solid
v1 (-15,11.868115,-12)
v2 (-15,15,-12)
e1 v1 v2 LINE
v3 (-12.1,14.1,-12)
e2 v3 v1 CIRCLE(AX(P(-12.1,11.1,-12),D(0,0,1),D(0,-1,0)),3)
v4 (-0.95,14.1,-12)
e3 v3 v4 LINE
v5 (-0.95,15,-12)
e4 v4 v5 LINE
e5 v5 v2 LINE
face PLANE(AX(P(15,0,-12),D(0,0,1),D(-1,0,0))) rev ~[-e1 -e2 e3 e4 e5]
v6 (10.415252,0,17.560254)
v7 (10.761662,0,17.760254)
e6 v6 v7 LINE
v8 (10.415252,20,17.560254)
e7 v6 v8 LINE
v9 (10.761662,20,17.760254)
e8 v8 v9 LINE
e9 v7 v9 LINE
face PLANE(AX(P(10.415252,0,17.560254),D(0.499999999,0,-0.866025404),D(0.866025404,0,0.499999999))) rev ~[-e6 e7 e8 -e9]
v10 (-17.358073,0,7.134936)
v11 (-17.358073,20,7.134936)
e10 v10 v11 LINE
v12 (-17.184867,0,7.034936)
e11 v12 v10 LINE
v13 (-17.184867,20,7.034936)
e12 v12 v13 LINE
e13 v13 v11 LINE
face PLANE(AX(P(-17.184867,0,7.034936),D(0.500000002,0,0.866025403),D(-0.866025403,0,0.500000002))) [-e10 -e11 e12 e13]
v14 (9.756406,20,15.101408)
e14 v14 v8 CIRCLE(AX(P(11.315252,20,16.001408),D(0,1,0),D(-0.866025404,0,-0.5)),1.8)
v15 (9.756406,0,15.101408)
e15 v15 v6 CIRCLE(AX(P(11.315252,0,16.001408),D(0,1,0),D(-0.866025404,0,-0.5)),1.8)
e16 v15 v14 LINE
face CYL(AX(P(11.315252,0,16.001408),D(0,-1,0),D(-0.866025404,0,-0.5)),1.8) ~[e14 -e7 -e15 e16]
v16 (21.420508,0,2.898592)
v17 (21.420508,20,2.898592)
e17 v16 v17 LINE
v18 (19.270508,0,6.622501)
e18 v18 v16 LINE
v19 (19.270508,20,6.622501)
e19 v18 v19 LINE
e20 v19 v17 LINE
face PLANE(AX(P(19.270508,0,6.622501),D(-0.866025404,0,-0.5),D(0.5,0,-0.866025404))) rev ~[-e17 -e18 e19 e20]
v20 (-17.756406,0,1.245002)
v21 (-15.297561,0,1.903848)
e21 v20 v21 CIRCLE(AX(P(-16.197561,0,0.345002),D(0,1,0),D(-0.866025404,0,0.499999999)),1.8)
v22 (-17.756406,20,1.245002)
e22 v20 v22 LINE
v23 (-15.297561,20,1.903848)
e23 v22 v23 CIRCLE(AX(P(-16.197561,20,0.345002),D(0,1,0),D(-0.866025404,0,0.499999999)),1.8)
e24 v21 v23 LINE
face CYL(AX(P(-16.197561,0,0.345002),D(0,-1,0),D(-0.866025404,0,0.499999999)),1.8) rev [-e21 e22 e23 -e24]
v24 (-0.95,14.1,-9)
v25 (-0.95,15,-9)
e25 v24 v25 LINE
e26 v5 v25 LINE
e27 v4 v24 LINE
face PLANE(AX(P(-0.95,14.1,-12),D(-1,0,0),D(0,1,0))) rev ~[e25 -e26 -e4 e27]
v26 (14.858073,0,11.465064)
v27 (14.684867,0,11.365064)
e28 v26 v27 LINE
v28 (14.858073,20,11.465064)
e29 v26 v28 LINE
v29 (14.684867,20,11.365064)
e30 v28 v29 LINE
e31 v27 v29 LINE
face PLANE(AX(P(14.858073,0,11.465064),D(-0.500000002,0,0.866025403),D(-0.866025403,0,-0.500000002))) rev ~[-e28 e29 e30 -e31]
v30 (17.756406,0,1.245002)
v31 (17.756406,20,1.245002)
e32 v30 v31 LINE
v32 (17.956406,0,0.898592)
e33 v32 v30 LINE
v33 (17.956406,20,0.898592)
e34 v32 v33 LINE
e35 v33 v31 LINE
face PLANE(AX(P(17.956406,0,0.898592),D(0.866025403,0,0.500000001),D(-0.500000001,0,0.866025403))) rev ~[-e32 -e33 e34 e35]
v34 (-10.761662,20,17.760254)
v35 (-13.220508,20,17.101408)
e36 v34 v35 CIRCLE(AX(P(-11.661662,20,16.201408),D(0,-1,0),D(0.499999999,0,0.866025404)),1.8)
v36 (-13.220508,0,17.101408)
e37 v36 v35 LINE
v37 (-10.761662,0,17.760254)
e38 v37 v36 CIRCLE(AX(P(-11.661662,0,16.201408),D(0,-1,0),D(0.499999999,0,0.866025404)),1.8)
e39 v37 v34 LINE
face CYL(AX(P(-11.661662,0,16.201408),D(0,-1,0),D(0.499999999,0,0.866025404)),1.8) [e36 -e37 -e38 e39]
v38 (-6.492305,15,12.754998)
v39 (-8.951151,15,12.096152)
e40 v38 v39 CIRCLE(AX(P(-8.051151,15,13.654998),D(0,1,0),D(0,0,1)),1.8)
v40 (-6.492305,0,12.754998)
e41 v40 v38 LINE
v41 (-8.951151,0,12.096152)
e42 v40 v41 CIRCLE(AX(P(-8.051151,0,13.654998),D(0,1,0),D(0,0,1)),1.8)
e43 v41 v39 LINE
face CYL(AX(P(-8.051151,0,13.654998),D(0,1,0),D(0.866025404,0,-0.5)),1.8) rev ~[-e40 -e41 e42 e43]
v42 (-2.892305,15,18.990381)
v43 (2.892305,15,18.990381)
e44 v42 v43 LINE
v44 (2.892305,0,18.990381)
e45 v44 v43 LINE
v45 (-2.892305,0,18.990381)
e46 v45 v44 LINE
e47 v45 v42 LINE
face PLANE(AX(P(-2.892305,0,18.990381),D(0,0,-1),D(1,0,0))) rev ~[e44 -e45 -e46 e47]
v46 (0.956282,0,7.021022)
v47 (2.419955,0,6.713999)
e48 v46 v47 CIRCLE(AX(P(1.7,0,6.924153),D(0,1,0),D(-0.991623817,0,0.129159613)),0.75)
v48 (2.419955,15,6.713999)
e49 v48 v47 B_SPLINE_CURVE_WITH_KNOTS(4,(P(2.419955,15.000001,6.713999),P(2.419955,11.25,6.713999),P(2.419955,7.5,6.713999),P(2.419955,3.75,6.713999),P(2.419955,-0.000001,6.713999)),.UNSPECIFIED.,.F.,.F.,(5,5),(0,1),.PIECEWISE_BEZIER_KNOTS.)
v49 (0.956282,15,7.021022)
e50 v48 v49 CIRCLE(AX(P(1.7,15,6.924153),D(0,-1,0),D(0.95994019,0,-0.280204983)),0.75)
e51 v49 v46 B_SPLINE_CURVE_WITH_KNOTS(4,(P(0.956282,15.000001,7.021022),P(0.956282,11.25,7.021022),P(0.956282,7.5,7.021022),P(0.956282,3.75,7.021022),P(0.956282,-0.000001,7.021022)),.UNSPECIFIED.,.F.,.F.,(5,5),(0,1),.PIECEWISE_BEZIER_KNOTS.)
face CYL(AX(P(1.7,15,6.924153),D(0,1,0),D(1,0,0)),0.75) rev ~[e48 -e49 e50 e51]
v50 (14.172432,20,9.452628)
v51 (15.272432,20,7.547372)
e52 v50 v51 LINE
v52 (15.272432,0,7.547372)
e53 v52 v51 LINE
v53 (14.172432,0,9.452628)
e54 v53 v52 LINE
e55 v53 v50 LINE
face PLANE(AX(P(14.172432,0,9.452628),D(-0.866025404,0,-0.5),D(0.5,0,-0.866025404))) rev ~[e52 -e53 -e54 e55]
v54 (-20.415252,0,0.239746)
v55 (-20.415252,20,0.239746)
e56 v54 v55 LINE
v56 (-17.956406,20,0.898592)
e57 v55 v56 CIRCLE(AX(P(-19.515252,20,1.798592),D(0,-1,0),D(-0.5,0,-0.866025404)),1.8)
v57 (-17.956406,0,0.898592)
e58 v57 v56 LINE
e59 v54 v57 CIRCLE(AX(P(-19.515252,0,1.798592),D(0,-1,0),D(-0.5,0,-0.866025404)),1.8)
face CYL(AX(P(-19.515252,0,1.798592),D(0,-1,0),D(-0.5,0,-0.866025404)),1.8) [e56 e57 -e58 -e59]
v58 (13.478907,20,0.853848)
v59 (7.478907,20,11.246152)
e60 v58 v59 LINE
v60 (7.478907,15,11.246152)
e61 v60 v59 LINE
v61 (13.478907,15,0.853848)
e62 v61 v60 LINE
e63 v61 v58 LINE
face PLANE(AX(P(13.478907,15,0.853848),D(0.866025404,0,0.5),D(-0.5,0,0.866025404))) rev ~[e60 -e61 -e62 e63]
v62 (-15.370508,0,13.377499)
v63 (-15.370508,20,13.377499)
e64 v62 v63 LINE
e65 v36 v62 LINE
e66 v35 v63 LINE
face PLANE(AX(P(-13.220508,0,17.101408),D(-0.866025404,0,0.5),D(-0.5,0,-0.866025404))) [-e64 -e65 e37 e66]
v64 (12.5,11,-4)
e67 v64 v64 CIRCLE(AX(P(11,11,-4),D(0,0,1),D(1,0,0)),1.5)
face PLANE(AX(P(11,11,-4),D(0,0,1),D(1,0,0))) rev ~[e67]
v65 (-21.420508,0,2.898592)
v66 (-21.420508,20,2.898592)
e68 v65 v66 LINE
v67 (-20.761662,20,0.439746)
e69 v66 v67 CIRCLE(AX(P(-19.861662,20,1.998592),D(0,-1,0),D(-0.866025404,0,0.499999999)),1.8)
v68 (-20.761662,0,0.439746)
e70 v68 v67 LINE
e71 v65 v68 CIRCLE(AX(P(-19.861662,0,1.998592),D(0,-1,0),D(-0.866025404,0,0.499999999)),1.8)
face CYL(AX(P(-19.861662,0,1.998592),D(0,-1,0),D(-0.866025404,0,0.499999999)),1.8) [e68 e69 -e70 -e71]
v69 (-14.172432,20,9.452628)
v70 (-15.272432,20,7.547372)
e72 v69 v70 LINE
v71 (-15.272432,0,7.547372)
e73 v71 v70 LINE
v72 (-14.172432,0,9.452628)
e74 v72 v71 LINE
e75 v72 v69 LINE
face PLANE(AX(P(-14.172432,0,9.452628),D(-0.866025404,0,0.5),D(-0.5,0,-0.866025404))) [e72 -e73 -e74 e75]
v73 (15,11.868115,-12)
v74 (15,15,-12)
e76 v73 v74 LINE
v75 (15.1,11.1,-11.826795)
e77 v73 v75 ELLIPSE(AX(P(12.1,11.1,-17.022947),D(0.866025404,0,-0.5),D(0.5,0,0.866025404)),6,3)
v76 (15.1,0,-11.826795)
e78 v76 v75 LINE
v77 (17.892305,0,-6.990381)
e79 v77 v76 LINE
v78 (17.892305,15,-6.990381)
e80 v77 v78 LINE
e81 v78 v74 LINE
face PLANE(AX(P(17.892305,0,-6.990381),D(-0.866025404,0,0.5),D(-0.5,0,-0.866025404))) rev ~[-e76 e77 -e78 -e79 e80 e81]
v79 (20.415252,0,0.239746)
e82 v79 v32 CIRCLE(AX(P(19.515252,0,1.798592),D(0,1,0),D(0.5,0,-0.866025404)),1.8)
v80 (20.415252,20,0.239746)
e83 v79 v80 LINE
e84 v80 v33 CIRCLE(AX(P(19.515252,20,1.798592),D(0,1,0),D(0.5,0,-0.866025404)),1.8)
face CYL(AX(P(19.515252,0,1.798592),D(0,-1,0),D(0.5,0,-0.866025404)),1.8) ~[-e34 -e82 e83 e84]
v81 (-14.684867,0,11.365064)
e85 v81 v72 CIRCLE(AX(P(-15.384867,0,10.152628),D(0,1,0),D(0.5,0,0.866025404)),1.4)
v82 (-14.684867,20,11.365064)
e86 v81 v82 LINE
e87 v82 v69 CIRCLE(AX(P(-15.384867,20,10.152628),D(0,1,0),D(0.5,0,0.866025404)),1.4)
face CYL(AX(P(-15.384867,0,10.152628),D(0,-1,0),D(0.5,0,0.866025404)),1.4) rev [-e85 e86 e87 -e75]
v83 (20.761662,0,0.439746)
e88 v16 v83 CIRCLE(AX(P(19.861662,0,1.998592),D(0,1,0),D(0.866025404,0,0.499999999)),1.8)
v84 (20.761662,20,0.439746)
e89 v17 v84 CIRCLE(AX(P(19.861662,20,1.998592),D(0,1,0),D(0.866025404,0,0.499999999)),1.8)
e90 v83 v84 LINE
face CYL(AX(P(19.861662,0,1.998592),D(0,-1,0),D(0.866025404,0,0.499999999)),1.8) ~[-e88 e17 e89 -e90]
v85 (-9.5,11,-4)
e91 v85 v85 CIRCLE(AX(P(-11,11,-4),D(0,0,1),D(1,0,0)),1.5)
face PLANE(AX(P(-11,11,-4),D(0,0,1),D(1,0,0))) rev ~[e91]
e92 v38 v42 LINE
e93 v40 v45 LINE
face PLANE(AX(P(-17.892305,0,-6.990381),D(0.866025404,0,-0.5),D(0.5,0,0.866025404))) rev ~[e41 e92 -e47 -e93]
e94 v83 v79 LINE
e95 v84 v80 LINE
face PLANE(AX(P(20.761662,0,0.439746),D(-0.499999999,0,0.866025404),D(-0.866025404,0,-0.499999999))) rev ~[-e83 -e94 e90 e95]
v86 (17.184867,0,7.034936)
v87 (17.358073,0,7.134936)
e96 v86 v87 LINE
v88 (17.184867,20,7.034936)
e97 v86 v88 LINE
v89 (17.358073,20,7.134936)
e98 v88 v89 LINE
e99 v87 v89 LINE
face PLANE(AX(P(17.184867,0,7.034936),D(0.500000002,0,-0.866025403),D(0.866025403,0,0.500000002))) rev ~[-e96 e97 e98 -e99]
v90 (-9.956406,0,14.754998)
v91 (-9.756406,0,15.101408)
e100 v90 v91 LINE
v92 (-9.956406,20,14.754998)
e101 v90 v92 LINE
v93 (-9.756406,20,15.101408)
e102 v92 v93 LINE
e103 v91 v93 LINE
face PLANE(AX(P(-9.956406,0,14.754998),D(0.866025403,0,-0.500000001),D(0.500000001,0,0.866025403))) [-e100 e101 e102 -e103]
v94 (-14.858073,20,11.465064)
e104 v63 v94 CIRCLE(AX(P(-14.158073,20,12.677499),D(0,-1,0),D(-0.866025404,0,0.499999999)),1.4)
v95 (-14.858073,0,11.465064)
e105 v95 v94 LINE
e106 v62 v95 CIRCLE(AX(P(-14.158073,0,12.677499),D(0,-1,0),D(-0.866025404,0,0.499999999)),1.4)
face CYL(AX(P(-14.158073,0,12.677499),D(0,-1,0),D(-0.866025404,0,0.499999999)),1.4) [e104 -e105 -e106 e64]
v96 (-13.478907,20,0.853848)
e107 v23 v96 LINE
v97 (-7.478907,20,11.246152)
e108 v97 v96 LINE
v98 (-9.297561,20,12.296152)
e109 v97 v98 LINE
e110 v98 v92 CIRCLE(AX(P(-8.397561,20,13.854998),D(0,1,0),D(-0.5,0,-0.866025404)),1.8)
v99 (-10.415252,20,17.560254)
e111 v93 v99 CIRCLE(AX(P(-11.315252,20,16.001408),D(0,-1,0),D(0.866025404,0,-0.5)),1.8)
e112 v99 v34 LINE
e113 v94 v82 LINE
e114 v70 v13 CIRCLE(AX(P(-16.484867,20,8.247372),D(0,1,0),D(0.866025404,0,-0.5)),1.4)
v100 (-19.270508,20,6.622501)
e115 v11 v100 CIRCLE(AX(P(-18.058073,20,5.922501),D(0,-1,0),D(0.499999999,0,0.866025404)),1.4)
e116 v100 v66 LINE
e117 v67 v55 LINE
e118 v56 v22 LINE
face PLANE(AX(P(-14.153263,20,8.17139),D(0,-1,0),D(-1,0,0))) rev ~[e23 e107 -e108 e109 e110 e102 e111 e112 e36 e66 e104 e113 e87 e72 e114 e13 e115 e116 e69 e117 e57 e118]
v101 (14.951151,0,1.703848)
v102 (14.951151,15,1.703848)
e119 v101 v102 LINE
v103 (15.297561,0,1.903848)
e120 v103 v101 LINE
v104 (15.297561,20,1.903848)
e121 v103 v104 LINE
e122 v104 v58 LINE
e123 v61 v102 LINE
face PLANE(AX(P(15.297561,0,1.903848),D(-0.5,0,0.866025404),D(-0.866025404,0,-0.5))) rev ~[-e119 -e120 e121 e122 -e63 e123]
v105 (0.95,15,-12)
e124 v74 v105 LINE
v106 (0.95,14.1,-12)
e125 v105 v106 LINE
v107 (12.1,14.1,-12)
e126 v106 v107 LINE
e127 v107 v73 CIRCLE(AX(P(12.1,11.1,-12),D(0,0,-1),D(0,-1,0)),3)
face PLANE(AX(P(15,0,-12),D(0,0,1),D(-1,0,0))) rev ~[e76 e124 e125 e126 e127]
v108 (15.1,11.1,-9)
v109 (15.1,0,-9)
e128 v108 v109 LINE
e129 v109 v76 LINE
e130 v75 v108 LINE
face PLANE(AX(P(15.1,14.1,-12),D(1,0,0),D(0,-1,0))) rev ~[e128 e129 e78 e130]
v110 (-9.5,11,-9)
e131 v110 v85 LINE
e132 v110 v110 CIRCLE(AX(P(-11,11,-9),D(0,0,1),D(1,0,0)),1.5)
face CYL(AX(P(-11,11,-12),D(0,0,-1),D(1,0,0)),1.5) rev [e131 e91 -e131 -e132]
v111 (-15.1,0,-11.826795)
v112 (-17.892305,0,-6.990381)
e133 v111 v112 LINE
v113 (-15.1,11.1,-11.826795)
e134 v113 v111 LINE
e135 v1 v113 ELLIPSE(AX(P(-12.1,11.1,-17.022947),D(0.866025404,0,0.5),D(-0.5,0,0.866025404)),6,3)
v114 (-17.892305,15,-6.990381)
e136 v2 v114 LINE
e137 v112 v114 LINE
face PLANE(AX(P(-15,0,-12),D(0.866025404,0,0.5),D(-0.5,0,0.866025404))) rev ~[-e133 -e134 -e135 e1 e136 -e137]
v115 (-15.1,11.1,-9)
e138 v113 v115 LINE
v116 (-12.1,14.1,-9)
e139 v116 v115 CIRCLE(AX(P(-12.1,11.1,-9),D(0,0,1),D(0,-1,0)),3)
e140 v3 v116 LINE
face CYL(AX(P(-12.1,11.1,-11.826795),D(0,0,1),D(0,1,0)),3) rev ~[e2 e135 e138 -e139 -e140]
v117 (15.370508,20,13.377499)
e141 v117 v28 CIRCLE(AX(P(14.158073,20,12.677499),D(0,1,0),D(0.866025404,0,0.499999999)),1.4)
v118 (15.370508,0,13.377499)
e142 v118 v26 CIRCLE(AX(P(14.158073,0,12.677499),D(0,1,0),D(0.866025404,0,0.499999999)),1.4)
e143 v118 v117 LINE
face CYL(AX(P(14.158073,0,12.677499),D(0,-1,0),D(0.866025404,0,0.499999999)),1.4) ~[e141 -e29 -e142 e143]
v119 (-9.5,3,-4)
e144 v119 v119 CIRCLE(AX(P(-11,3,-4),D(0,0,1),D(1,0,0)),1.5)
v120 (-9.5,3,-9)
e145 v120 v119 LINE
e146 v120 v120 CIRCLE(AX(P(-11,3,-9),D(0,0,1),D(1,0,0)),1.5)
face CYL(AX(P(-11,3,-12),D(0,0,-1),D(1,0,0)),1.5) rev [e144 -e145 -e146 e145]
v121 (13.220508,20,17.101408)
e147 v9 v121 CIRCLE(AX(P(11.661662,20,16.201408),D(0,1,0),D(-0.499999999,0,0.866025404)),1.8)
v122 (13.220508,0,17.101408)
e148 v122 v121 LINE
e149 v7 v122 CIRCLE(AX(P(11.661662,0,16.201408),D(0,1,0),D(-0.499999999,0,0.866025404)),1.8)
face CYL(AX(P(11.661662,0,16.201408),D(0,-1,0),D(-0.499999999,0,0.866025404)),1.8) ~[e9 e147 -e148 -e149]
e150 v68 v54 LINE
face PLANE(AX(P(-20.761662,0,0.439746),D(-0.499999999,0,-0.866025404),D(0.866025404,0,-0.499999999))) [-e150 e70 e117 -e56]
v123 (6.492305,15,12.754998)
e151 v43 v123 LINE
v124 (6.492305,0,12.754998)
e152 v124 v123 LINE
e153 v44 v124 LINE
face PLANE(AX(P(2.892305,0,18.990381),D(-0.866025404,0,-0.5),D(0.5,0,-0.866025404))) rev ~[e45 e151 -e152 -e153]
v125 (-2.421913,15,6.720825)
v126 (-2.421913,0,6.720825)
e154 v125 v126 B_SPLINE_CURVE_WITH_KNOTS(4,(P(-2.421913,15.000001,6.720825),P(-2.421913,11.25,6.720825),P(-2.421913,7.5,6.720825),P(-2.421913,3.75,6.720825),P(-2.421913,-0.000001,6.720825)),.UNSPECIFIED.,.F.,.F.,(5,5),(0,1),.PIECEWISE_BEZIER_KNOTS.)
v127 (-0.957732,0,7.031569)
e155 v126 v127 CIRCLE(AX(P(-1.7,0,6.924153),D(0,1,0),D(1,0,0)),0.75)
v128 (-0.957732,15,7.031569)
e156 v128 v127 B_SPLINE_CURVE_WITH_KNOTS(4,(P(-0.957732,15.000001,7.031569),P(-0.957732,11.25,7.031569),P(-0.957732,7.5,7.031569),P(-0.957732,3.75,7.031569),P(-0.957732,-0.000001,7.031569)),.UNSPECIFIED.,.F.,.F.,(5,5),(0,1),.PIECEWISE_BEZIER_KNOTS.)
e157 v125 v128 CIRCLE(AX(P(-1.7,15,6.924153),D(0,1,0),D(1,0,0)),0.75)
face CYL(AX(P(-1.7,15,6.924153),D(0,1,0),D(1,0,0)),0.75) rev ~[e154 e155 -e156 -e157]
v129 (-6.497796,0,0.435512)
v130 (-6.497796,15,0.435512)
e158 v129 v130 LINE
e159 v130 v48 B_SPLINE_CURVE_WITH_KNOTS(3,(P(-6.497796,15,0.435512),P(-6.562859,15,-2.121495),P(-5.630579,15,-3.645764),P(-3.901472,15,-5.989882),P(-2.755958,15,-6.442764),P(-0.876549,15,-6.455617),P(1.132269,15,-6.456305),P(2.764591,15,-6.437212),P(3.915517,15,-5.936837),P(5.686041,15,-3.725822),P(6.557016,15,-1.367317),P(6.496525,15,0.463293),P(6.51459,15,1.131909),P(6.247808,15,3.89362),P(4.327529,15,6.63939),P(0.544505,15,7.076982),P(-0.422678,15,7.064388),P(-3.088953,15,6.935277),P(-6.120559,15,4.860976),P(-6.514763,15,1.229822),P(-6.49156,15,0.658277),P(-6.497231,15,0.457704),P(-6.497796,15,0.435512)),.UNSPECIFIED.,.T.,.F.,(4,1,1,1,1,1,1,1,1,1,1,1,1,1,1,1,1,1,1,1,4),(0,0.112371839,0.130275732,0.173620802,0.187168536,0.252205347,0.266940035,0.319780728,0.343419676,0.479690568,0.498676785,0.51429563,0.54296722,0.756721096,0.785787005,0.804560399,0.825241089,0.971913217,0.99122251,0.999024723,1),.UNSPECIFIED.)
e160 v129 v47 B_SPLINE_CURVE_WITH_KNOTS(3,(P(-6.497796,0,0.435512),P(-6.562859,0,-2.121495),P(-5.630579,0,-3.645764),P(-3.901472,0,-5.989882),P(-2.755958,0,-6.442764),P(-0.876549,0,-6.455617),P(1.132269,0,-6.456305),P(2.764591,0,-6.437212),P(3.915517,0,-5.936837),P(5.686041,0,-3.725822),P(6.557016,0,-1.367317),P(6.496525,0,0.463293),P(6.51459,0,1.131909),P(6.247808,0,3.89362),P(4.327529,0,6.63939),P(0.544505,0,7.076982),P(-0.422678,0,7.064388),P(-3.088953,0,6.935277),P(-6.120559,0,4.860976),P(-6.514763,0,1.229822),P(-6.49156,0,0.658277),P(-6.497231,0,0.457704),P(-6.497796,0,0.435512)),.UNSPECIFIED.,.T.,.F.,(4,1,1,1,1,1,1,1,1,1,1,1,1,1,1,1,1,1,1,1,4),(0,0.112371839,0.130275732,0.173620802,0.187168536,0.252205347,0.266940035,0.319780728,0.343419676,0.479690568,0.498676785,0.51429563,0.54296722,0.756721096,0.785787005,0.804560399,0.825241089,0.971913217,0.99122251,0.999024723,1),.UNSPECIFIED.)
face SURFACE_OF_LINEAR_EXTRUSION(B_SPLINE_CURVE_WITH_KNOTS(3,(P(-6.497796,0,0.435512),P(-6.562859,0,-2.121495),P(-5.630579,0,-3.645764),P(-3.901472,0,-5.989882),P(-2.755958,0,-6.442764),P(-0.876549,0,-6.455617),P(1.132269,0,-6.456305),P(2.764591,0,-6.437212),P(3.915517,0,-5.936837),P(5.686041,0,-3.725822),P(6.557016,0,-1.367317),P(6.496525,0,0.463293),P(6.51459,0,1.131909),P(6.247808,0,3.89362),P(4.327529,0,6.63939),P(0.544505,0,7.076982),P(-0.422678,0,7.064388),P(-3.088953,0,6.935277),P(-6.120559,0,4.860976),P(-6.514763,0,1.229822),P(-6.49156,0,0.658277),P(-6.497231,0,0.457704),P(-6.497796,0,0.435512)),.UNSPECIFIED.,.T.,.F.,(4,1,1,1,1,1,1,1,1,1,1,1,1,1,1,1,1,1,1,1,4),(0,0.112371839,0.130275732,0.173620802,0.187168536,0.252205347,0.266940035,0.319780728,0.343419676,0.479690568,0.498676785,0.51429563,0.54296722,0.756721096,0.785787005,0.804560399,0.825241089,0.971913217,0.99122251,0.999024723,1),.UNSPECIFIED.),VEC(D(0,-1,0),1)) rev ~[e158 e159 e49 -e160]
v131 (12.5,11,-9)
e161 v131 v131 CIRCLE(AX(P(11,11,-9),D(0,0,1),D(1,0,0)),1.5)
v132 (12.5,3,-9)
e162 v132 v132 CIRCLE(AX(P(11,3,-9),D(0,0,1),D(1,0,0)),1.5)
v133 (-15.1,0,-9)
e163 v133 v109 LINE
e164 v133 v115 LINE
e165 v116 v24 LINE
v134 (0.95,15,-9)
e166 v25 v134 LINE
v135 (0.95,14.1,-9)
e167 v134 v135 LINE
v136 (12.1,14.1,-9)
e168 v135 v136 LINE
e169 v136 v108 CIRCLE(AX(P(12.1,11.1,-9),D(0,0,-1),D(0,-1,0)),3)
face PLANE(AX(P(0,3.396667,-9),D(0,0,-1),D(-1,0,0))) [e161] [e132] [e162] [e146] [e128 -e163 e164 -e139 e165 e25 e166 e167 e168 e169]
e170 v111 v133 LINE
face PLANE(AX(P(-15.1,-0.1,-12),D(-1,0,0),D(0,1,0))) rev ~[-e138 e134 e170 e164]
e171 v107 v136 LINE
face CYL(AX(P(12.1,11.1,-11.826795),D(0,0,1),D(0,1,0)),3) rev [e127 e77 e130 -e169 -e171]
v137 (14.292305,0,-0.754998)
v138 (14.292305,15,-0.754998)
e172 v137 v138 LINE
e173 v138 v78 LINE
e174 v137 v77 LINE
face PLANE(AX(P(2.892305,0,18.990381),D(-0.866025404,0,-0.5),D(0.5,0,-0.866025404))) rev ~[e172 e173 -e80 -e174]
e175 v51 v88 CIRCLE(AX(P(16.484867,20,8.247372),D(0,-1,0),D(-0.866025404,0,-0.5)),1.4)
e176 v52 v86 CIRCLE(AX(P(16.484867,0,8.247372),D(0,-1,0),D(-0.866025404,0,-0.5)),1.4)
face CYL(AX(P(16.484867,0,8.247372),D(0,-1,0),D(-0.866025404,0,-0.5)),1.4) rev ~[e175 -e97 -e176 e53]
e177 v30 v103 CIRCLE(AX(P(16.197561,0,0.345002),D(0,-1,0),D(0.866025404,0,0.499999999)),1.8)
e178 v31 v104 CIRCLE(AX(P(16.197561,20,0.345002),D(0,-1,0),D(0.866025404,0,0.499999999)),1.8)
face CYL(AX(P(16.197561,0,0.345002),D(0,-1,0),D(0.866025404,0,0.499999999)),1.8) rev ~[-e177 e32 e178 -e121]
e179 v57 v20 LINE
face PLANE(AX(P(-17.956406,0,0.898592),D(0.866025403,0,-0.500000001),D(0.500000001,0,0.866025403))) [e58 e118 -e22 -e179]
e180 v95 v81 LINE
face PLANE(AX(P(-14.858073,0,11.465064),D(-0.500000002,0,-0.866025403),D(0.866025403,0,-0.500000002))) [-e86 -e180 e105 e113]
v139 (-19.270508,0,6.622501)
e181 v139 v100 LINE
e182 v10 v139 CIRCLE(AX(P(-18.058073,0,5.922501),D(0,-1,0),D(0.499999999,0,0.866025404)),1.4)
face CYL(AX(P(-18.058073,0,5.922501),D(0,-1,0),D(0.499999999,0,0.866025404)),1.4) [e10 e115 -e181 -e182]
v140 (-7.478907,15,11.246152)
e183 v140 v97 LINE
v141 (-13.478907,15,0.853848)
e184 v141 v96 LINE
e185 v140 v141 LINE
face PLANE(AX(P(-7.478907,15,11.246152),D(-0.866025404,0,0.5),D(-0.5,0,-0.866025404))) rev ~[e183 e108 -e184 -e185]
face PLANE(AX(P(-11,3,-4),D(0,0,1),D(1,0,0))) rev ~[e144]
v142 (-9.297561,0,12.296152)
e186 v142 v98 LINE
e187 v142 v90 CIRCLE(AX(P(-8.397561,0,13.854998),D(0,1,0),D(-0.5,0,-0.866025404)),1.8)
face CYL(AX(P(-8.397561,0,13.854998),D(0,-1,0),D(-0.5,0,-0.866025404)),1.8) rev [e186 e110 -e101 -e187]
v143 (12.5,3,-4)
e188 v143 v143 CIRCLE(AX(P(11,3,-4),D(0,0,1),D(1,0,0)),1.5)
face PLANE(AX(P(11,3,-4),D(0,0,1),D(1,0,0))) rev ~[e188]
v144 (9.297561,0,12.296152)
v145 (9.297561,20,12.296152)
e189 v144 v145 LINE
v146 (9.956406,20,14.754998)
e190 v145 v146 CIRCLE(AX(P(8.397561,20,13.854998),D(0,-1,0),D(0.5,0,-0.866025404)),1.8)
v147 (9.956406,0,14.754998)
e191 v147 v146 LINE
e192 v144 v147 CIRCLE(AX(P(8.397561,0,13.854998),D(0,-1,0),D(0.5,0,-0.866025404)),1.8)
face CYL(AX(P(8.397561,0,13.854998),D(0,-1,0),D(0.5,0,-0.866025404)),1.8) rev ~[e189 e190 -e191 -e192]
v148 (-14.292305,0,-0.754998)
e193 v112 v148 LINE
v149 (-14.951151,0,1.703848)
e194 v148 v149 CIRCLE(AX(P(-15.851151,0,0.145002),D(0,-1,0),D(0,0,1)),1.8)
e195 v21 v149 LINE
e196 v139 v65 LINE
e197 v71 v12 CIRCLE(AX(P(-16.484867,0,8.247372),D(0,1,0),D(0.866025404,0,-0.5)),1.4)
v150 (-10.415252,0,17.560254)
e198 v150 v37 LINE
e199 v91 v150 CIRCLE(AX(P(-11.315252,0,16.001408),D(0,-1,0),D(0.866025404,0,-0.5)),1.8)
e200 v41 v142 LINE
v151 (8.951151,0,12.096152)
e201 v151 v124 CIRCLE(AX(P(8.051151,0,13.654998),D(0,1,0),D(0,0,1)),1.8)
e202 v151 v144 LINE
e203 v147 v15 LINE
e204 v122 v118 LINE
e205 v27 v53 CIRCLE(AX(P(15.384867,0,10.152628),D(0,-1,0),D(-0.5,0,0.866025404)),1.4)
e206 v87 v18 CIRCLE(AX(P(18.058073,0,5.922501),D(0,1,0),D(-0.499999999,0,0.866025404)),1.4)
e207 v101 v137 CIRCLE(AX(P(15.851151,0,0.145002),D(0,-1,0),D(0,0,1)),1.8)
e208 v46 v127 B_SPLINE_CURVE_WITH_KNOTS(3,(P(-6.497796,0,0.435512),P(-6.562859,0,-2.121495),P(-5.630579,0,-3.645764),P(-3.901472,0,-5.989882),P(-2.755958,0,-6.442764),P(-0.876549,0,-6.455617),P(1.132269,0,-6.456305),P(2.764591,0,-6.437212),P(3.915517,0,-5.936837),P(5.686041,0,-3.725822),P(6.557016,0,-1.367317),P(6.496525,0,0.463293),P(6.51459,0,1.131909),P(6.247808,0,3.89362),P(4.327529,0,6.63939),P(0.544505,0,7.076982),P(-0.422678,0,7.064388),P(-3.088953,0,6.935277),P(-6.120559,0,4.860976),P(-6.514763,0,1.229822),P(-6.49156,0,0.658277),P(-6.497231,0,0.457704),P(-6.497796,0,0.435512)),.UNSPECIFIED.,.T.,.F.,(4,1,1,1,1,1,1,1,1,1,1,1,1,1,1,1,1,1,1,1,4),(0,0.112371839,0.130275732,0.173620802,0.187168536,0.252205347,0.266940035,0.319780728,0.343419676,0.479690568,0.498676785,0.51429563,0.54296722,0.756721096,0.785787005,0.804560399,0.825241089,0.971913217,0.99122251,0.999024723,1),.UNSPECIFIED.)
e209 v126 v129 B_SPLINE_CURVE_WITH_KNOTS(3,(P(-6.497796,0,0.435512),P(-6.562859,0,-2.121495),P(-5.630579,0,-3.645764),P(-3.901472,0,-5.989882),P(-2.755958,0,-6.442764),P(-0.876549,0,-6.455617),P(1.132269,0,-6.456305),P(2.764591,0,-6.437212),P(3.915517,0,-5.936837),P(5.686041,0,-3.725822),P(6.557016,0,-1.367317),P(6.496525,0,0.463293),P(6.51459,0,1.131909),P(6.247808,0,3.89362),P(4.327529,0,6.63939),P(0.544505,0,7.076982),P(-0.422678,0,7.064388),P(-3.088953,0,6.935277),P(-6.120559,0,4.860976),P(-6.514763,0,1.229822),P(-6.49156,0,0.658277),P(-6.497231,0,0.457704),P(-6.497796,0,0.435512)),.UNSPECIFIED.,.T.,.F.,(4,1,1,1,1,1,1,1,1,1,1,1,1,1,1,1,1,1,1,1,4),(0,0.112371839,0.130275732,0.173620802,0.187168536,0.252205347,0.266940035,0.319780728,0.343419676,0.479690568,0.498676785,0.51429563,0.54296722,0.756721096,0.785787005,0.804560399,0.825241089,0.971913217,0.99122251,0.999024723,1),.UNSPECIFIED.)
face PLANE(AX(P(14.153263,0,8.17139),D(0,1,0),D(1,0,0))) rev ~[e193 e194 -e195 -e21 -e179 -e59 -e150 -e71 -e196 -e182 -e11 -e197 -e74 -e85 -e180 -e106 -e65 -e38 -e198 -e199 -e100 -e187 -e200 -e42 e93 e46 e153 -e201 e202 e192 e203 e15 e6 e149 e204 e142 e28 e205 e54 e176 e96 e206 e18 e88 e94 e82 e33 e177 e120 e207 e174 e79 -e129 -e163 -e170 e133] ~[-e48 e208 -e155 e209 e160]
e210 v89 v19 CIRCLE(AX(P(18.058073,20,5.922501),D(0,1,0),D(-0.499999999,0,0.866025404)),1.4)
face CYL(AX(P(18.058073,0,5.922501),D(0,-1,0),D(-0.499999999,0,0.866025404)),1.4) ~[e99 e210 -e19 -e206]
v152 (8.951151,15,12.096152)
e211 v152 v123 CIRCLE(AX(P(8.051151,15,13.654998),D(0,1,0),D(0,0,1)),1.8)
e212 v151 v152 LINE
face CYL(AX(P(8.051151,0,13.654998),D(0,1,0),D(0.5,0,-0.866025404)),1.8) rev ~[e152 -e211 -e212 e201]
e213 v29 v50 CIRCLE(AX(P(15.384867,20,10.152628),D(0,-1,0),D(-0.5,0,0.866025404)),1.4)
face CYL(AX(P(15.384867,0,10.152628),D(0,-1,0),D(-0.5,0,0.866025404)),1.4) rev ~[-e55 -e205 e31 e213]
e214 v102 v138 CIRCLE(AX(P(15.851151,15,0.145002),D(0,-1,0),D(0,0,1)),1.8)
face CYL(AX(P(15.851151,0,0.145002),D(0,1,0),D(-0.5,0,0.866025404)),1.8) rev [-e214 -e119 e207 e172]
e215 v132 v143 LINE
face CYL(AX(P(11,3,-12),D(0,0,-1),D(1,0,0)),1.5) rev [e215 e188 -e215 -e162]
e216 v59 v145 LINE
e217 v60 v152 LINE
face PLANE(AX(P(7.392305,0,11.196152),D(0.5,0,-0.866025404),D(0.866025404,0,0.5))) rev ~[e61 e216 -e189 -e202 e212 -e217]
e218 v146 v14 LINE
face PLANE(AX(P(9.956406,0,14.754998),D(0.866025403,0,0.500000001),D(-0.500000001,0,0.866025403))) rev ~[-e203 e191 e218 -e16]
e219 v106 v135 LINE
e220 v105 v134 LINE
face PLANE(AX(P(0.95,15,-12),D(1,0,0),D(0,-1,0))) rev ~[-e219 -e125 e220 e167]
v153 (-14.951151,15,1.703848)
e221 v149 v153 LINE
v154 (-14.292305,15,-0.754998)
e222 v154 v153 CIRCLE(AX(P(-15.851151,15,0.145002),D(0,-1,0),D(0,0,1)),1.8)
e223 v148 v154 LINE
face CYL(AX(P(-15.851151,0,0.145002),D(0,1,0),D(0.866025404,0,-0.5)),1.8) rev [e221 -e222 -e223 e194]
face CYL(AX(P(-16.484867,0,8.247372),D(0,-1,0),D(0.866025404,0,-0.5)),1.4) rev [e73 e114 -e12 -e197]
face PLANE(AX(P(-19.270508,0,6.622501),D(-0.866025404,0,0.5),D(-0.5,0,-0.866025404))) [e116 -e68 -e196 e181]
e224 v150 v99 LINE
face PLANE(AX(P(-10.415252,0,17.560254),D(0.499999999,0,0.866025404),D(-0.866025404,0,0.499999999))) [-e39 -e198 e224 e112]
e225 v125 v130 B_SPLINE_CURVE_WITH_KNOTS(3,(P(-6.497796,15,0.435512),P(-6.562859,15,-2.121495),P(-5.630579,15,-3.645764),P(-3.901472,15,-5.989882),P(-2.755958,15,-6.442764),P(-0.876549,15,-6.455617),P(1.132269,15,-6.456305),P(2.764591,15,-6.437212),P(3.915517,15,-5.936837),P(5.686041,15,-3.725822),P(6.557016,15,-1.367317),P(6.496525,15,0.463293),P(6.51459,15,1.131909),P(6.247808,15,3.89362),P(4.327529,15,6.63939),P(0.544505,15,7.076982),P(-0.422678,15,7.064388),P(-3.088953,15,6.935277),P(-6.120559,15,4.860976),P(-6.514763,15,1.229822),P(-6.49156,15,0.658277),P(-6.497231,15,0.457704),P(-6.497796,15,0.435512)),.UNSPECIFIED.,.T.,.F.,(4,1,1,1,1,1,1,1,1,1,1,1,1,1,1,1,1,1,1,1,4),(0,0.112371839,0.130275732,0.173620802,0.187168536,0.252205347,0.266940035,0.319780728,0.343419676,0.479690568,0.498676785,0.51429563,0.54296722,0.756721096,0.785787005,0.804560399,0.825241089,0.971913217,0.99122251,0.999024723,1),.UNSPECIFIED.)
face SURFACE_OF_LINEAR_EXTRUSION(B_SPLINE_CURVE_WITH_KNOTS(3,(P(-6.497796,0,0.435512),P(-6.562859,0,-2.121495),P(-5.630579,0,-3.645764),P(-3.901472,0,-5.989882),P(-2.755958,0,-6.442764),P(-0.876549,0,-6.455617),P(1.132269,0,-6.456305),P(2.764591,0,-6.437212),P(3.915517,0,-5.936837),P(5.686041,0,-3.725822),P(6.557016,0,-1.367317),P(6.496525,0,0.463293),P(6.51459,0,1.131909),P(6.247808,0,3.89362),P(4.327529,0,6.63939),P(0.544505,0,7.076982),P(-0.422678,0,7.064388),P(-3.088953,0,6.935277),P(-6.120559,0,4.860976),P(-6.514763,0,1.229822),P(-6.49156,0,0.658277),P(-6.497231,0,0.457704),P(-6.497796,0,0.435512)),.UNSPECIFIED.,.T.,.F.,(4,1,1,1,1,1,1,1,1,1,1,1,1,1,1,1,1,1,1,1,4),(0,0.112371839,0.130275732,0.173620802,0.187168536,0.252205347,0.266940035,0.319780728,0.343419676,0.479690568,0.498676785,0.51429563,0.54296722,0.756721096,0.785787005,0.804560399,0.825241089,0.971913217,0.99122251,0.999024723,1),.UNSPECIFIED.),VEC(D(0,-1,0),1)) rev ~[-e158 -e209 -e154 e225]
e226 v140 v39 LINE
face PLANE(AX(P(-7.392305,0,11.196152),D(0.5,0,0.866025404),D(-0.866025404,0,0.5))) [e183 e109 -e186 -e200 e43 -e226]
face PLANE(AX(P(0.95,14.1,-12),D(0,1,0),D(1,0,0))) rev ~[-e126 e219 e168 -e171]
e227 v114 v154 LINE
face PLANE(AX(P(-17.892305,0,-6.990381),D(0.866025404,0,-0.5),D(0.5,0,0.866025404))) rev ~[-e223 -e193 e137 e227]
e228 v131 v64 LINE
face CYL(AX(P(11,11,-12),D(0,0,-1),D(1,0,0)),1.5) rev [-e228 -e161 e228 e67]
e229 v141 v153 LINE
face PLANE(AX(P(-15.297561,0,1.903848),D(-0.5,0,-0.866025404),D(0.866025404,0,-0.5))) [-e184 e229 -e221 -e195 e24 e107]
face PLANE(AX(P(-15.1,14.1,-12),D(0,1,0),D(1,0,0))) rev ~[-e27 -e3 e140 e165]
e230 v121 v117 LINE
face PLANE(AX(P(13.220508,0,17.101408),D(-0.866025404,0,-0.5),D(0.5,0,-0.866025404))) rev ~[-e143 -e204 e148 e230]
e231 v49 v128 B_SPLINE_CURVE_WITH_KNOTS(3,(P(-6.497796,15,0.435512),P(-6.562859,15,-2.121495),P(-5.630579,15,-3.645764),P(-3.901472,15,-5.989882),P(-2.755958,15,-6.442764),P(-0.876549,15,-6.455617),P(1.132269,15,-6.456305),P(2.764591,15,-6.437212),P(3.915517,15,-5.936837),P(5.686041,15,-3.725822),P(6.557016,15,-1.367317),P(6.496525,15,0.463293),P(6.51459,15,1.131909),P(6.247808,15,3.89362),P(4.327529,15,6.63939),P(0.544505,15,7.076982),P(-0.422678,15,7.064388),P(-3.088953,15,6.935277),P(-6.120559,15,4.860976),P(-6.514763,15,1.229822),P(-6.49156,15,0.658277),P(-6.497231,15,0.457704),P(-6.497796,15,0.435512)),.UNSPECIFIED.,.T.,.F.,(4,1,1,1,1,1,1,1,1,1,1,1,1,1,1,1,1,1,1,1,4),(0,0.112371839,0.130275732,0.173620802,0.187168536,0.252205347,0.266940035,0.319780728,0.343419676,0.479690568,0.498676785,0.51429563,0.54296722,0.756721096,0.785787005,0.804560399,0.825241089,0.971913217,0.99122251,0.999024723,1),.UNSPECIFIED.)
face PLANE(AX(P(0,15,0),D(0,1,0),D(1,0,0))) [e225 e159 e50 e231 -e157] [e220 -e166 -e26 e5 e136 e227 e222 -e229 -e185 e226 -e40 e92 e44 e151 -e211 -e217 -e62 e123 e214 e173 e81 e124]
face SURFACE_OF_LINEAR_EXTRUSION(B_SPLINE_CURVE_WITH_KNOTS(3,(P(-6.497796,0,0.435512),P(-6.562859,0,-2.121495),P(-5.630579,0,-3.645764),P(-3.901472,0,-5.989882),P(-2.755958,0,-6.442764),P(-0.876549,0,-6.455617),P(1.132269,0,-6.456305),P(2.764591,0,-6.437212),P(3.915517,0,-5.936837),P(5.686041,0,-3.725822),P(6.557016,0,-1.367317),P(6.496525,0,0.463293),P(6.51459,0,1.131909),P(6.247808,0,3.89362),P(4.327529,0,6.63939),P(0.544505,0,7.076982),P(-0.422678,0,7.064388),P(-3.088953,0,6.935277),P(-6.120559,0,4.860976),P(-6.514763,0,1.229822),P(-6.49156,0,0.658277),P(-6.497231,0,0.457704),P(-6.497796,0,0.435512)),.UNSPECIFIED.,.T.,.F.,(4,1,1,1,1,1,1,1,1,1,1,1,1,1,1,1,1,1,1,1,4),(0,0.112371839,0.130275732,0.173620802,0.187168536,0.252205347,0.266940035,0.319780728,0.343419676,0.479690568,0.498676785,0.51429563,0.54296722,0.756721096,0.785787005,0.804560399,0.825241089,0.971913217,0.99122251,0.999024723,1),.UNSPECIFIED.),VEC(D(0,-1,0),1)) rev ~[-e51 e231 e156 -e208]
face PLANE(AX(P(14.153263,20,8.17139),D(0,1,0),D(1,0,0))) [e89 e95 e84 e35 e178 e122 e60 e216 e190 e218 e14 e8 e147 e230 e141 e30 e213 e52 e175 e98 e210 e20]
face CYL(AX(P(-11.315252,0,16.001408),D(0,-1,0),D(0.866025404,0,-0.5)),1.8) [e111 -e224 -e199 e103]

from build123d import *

# Parameters (mm, degrees)
BOSS_EXTRU_1_DEPTH      = 15
ENL_V_START             = -12
ESQUISSE4_R             = 1.5
ENL_V_MAT_EXTRU_4_DEPTH = 8
BOSS_EXTRU_2_DEPTH      = 20
CONG_5_R                = 1.8
ENL_V_START_2           = 15
ENL_V_MAT_EXTRU_5_DEPTH = 5
ESQUISSE7_R             = 1.5
ESQUISSE7_W             = 1.9
ESQUISSE7_H             = 0.1
ENL_V_MAT_EXTRU_6_DEPTH = 3
CONG_6_R                = 3
ESQUISSE8_R             = 0.75
ENL_V_MAT_EXTRU_7_DEPTH = 33.478642206


with BuildPart() as part:
    # Esquisse2 → Boss.-Extru.1 (new body)
    with BuildSketch(Plane(origin=(0, 0, 0), x_dir=(1, 0, 0), z_dir=(0, 1, 0))):
        Polygon((15, 12), (-15, 12), (-17.892304845, 6.990381057), (-2.892304845, -18.990381057), (2.892304845, -18.990381057), (17.892304845, 6.990381057), align=None)
        with BuildLine():
            add(Edge.make_bspline(
                [(-6.497795886, -0.435512169), (-6.562859024, 2.121494549), (-5.630578833, 3.64576447), (-3.901472034, 5.989881763), (-2.755958224, 6.442764065), (-0.876549045, 6.455616827), (1.132269087, 6.456305133), (2.764590803, 6.437211677), (3.915516646, 5.93683695), (5.68604085, 3.725822495), (6.557016299, 1.367317423), (6.496525421, -0.463293017), (6.514589536, -1.131908623), (6.247808359, -3.89361975), (4.327528544, -6.639389687), (0.544504956, -7.076982092), (-0.422677641, -7.064388331), (-3.088953313, -6.935277121), (-6.120558637, -4.860976426), (-6.514763181, -1.229822437), (-6.49155978, -0.658277257), (-6.497231202, -0.457704464), (-6.497795886, -0.435512169)],
                knots=[0, 0, 0, 0, 0.112371839, 0.130275732, 0.173620802, 0.187168536, 0.252205347, 0.266940035, 0.319780728, 0.343419676, 0.479690568, 0.498676785, 0.51429563, 0.54296722, 0.756721096, 0.785787005, 0.804560399, 0.825241089, 0.971913217, 0.99122251, 0.999024723, 1, 1, 1, 1], degree=3))
        make_face(mode=Mode.SUBTRACT)
    extrude(amount=BOSS_EXTRU_1_DEPTH)

    # Esquisse4 → Enlèv. mat.-Extru.4 (cut)
    with BuildSketch(Plane.XY.offset(ENL_V_START)):
        with Locations((-11, 11)):
            Circle(ESQUISSE4_R)
        with Locations((11, 11)):
            Circle(ESQUISSE4_R)
        with Locations((11, 3)):
            Circle(ESQUISSE4_R)
        with Locations((-11, 3)):
            Circle(ESQUISSE4_R)
    extrude(amount=ENL_V_MAT_EXTRU_4_DEPTH, mode=Mode.SUBTRACT)

    # Esquisse5 → Boss.-Extru.2 (add)
    with BuildSketch(Plane(origin=(0, 0, 0), x_dir=(1, 0, 0), z_dir=(0, 1, 0))):
        with BuildLine():
            Line((13.220508076, -17.101408311), (15.370508076, -13.377499075))
            ThreePointArc((15.370508076, -13.377499075), (15.510368667, -12.315152412), (14.85807251, -11.465063509))
            Line((14.85807251, -11.465063509), (14.68486743, -11.365063509))
            ThreePointArc((14.68486743, -11.365063509), (14.032571273, -10.514974607), (14.172431864, -9.452627944))
            Line((14.172431864, -9.452627944), (15.272431864, -7.547372056))
            ThreePointArc((15.272431864, -7.547372056), (16.122520766, -6.895075899), (17.18486743, -7.034936491))
            Line((17.18486743, -7.034936491), (17.35807251, -7.134936491))
            ThreePointArc((17.35807251, -7.134936491), (18.420419174, -7.274797082), (19.270508076, -6.622500925))
            Line((19.270508076, -6.622500925), (21.420508076, -2.898591689))
            ThreePointArc((21.420508076, -2.898591689), (21.600328836, -1.532717408), (20.761662349, -0.439745962))
            Line((20.761662349, -0.439745962), (20.415252187, -0.239745962))
            ThreePointArc((20.415252187, -0.239745962), (19.049377906, -0.059925202), (17.956406461, -0.898591689))
            Line((17.956406461, -0.898591689), (17.756406461, -1.24500185))
            ThreePointArc((17.756406461, -1.24500185), (16.663435015, -2.083668338), (15.297560734, -1.903847577))
            Line((15.297560734, -1.903847577), (13.392304845, -0.803847577))
            Line((13.392304845, -0.803847577), (7.392304845, -11.196152423))
            Line((7.392304845, -11.196152423), (9.297560734, -12.296152423))
            ThreePointArc((9.297560734, -12.296152423), (10.136227221, -13.389123868), (9.956406461, -14.75499815))
            Line((9.956406461, -14.75499815), (9.756406461, -15.101408311))
            ThreePointArc((9.756406461, -15.101408311), (9.5765857, -16.467282592), (10.415252187, -17.560254038))
            Line((10.415252187, -17.560254038), (10.761662349, -17.760254038))
            ThreePointArc((10.761662349, -17.760254038), (12.12753663, -17.940074798), (13.220508076, -17.101408311))
        make_face()
        with BuildLine():
            Line((-19.270508076, -6.622500925), (-21.420508076, -2.898591689))
            ThreePointArc((-21.420508076, -2.898591689), (-21.600328836, -1.532717408), (-20.761662349, -0.439745962))
            Line((-20.761662349, -0.439745962), (-20.415252187, -0.239745962))
            ThreePointArc((-20.415252187, -0.239745962), (-19.049377906, -0.059925202), (-17.956406461, -0.898591689))
            Line((-17.956406461, -0.898591689), (-17.756406461, -1.24500185))
            ThreePointArc((-17.756406461, -1.24500185), (-16.663435015, -2.083668338), (-15.297560734, -1.903847577))
            Line((-15.297560734, -1.903847577), (-13.392304845, -0.803847577))
            Line((-13.392304845, -0.803847577), (-7.392304845, -11.196152423))
            Line((-7.392304845, -11.196152423), (-9.297560734, -12.296152423))
            ThreePointArc((-9.297560734, -12.296152423), (-10.136227221, -13.389123868), (-9.956406461, -14.75499815))
            Line((-9.956406461, -14.75499815), (-9.756406461, -15.101408311))
            ThreePointArc((-9.756406461, -15.101408311), (-9.5765857, -16.467282592), (-10.415252187, -17.560254038))
            Line((-10.415252187, -17.560254038), (-10.761662349, -17.760254038))
            ThreePointArc((-10.761662349, -17.760254038), (-12.12753663, -17.940074798), (-13.220508076, -17.101408311))
            Line((-13.220508076, -17.101408311), (-15.370508076, -13.377499075))
            ThreePointArc((-15.370508076, -13.377499075), (-15.510368667, -12.315152412), (-14.85807251, -11.465063509))
            Line((-14.85807251, -11.465063509), (-14.68486743, -11.365063509))
            ThreePointArc((-14.68486743, -11.365063509), (-14.032571273, -10.514974607), (-14.172431864, -9.452627944))
            Line((-14.172431864, -9.452627944), (-15.272431864, -7.547372056))
            ThreePointArc((-15.272431864, -7.547372056), (-16.122520766, -6.895075899), (-17.18486743, -7.034936491))
            Line((-17.18486743, -7.034936491), (-17.35807251, -7.134936491))
            ThreePointArc((-17.35807251, -7.134936491), (-18.420419174, -7.274797082), (-19.270508076, -6.622500925))
        make_face()
    extrude(amount=BOSS_EXTRU_2_DEPTH)

    # Congé5
    cong_5_edges = [part.edges().sort_by_distance(p)[0] for p in [
        (7.392304845, 7.5, 11.196152423),
        (13.392304845, 7.5, 0.803847577),
        (-13.392304845, 7.5, 0.803847577),
        (-7.392304845, 7.5, 11.196152423),
    ]]
    fillet(cong_5_edges, radius=CONG_5_R)

    # Esquisse6 → Enlèv. mat.-Extru.5 (cut)
    with BuildSketch(Plane(origin=(0, 0, 0), x_dir=(1, 0, 0), z_dir=(0, 1, 0)).offset(ENL_V_START_2)):
        Polygon((-13.392304845, -0.803847577), (-7.392304845, -11.196152423), (-7.478907386, -11.246152423), (-13.478907386, -0.853847577), align=None)
        Polygon((7.392304845, -11.196152423), (13.392304845, -0.803847577), (13.478907386, -0.853847577), (7.478907386, -11.246152423), align=None)
    extrude(amount=ENL_V_MAT_EXTRU_5_DEPTH, mode=Mode.SUBTRACT)

    # Esquisse7 → Enlèv. mat.-Extru.6 (cut)
    # profile 1 of 3: a face of its own
    with BuildSketch(Plane(origin=(0, 0, -12), x_dir=(-1, 0, 0), z_dir=(0, 0, -1))):
        Polygon((15, 0), (0.85, 0), (-0.85, 0), (-15, 0), (-15, 14.1), (-15.1, 14.1), (-15.1, -0.1), (15.1, -0.1), (15.1, 14.1), (15, 14.1), align=None)
    # profile 2 of 3: a face of its own
    with BuildSketch(Plane(origin=(0, 0, -12), x_dir=(-1, 0, 0), z_dir=(0, 0, -1))):
        Polygon((-0.85, 0), (0.85, 0), (15, 0), (15, 14.1), (0.95, 14.1), (0.95, 15), (-0.95, 15), (-0.95, 14.1), (-15, 14.1), (-15, 0), align=None)
        with Locations((-11, 3)):
            Circle(ESQUISSE7_R, mode=Mode.SUBTRACT)
        with Locations((11, 3)):
            Circle(ESQUISSE7_R, mode=Mode.SUBTRACT)
        with Locations((-11, 11)):
            Circle(ESQUISSE7_R, mode=Mode.SUBTRACT)
        with Locations((11, 11)):
            Circle(ESQUISSE7_R, mode=Mode.SUBTRACT)
    # profile 3 of 3: a face of its own
    with BuildSketch(Plane(origin=(0, 0, -12), x_dir=(-1, 0, 0), z_dir=(0, 0, -1))):
        with Locations((0, 15.05)):
            Rectangle(ESQUISSE7_W, ESQUISSE7_H)
    extrude(amount=-ENL_V_MAT_EXTRU_6_DEPTH, mode=Mode.SUBTRACT)

    # Congé6
    cong_6_edges = [part.edges().sort_by_distance(p)[0] for p in [
        (-15.1, 14.1, -10.41339746),
        (15.1, 14.1, -10.41339746),
    ]]
    fillet(cong_6_edges, radius=CONG_6_R)

    # Esquisse8 → Enlèv. mat.-Extru.7 (cut, through all)
    with BuildSketch(Plane(origin=(0, 15, 0), x_dir=(1, 0, 0), z_dir=(0, 1, 0))):
        with Locations((-1.7, -6.924152718)):
            Circle(ESQUISSE8_R)
        with Locations((1.7, -6.924152718)):
            Circle(ESQUISSE8_R)
    extrude(amount=-ENL_V_MAT_EXTRU_7_DEPTH, mode=Mode.SUBTRACT)


solid = part.part
